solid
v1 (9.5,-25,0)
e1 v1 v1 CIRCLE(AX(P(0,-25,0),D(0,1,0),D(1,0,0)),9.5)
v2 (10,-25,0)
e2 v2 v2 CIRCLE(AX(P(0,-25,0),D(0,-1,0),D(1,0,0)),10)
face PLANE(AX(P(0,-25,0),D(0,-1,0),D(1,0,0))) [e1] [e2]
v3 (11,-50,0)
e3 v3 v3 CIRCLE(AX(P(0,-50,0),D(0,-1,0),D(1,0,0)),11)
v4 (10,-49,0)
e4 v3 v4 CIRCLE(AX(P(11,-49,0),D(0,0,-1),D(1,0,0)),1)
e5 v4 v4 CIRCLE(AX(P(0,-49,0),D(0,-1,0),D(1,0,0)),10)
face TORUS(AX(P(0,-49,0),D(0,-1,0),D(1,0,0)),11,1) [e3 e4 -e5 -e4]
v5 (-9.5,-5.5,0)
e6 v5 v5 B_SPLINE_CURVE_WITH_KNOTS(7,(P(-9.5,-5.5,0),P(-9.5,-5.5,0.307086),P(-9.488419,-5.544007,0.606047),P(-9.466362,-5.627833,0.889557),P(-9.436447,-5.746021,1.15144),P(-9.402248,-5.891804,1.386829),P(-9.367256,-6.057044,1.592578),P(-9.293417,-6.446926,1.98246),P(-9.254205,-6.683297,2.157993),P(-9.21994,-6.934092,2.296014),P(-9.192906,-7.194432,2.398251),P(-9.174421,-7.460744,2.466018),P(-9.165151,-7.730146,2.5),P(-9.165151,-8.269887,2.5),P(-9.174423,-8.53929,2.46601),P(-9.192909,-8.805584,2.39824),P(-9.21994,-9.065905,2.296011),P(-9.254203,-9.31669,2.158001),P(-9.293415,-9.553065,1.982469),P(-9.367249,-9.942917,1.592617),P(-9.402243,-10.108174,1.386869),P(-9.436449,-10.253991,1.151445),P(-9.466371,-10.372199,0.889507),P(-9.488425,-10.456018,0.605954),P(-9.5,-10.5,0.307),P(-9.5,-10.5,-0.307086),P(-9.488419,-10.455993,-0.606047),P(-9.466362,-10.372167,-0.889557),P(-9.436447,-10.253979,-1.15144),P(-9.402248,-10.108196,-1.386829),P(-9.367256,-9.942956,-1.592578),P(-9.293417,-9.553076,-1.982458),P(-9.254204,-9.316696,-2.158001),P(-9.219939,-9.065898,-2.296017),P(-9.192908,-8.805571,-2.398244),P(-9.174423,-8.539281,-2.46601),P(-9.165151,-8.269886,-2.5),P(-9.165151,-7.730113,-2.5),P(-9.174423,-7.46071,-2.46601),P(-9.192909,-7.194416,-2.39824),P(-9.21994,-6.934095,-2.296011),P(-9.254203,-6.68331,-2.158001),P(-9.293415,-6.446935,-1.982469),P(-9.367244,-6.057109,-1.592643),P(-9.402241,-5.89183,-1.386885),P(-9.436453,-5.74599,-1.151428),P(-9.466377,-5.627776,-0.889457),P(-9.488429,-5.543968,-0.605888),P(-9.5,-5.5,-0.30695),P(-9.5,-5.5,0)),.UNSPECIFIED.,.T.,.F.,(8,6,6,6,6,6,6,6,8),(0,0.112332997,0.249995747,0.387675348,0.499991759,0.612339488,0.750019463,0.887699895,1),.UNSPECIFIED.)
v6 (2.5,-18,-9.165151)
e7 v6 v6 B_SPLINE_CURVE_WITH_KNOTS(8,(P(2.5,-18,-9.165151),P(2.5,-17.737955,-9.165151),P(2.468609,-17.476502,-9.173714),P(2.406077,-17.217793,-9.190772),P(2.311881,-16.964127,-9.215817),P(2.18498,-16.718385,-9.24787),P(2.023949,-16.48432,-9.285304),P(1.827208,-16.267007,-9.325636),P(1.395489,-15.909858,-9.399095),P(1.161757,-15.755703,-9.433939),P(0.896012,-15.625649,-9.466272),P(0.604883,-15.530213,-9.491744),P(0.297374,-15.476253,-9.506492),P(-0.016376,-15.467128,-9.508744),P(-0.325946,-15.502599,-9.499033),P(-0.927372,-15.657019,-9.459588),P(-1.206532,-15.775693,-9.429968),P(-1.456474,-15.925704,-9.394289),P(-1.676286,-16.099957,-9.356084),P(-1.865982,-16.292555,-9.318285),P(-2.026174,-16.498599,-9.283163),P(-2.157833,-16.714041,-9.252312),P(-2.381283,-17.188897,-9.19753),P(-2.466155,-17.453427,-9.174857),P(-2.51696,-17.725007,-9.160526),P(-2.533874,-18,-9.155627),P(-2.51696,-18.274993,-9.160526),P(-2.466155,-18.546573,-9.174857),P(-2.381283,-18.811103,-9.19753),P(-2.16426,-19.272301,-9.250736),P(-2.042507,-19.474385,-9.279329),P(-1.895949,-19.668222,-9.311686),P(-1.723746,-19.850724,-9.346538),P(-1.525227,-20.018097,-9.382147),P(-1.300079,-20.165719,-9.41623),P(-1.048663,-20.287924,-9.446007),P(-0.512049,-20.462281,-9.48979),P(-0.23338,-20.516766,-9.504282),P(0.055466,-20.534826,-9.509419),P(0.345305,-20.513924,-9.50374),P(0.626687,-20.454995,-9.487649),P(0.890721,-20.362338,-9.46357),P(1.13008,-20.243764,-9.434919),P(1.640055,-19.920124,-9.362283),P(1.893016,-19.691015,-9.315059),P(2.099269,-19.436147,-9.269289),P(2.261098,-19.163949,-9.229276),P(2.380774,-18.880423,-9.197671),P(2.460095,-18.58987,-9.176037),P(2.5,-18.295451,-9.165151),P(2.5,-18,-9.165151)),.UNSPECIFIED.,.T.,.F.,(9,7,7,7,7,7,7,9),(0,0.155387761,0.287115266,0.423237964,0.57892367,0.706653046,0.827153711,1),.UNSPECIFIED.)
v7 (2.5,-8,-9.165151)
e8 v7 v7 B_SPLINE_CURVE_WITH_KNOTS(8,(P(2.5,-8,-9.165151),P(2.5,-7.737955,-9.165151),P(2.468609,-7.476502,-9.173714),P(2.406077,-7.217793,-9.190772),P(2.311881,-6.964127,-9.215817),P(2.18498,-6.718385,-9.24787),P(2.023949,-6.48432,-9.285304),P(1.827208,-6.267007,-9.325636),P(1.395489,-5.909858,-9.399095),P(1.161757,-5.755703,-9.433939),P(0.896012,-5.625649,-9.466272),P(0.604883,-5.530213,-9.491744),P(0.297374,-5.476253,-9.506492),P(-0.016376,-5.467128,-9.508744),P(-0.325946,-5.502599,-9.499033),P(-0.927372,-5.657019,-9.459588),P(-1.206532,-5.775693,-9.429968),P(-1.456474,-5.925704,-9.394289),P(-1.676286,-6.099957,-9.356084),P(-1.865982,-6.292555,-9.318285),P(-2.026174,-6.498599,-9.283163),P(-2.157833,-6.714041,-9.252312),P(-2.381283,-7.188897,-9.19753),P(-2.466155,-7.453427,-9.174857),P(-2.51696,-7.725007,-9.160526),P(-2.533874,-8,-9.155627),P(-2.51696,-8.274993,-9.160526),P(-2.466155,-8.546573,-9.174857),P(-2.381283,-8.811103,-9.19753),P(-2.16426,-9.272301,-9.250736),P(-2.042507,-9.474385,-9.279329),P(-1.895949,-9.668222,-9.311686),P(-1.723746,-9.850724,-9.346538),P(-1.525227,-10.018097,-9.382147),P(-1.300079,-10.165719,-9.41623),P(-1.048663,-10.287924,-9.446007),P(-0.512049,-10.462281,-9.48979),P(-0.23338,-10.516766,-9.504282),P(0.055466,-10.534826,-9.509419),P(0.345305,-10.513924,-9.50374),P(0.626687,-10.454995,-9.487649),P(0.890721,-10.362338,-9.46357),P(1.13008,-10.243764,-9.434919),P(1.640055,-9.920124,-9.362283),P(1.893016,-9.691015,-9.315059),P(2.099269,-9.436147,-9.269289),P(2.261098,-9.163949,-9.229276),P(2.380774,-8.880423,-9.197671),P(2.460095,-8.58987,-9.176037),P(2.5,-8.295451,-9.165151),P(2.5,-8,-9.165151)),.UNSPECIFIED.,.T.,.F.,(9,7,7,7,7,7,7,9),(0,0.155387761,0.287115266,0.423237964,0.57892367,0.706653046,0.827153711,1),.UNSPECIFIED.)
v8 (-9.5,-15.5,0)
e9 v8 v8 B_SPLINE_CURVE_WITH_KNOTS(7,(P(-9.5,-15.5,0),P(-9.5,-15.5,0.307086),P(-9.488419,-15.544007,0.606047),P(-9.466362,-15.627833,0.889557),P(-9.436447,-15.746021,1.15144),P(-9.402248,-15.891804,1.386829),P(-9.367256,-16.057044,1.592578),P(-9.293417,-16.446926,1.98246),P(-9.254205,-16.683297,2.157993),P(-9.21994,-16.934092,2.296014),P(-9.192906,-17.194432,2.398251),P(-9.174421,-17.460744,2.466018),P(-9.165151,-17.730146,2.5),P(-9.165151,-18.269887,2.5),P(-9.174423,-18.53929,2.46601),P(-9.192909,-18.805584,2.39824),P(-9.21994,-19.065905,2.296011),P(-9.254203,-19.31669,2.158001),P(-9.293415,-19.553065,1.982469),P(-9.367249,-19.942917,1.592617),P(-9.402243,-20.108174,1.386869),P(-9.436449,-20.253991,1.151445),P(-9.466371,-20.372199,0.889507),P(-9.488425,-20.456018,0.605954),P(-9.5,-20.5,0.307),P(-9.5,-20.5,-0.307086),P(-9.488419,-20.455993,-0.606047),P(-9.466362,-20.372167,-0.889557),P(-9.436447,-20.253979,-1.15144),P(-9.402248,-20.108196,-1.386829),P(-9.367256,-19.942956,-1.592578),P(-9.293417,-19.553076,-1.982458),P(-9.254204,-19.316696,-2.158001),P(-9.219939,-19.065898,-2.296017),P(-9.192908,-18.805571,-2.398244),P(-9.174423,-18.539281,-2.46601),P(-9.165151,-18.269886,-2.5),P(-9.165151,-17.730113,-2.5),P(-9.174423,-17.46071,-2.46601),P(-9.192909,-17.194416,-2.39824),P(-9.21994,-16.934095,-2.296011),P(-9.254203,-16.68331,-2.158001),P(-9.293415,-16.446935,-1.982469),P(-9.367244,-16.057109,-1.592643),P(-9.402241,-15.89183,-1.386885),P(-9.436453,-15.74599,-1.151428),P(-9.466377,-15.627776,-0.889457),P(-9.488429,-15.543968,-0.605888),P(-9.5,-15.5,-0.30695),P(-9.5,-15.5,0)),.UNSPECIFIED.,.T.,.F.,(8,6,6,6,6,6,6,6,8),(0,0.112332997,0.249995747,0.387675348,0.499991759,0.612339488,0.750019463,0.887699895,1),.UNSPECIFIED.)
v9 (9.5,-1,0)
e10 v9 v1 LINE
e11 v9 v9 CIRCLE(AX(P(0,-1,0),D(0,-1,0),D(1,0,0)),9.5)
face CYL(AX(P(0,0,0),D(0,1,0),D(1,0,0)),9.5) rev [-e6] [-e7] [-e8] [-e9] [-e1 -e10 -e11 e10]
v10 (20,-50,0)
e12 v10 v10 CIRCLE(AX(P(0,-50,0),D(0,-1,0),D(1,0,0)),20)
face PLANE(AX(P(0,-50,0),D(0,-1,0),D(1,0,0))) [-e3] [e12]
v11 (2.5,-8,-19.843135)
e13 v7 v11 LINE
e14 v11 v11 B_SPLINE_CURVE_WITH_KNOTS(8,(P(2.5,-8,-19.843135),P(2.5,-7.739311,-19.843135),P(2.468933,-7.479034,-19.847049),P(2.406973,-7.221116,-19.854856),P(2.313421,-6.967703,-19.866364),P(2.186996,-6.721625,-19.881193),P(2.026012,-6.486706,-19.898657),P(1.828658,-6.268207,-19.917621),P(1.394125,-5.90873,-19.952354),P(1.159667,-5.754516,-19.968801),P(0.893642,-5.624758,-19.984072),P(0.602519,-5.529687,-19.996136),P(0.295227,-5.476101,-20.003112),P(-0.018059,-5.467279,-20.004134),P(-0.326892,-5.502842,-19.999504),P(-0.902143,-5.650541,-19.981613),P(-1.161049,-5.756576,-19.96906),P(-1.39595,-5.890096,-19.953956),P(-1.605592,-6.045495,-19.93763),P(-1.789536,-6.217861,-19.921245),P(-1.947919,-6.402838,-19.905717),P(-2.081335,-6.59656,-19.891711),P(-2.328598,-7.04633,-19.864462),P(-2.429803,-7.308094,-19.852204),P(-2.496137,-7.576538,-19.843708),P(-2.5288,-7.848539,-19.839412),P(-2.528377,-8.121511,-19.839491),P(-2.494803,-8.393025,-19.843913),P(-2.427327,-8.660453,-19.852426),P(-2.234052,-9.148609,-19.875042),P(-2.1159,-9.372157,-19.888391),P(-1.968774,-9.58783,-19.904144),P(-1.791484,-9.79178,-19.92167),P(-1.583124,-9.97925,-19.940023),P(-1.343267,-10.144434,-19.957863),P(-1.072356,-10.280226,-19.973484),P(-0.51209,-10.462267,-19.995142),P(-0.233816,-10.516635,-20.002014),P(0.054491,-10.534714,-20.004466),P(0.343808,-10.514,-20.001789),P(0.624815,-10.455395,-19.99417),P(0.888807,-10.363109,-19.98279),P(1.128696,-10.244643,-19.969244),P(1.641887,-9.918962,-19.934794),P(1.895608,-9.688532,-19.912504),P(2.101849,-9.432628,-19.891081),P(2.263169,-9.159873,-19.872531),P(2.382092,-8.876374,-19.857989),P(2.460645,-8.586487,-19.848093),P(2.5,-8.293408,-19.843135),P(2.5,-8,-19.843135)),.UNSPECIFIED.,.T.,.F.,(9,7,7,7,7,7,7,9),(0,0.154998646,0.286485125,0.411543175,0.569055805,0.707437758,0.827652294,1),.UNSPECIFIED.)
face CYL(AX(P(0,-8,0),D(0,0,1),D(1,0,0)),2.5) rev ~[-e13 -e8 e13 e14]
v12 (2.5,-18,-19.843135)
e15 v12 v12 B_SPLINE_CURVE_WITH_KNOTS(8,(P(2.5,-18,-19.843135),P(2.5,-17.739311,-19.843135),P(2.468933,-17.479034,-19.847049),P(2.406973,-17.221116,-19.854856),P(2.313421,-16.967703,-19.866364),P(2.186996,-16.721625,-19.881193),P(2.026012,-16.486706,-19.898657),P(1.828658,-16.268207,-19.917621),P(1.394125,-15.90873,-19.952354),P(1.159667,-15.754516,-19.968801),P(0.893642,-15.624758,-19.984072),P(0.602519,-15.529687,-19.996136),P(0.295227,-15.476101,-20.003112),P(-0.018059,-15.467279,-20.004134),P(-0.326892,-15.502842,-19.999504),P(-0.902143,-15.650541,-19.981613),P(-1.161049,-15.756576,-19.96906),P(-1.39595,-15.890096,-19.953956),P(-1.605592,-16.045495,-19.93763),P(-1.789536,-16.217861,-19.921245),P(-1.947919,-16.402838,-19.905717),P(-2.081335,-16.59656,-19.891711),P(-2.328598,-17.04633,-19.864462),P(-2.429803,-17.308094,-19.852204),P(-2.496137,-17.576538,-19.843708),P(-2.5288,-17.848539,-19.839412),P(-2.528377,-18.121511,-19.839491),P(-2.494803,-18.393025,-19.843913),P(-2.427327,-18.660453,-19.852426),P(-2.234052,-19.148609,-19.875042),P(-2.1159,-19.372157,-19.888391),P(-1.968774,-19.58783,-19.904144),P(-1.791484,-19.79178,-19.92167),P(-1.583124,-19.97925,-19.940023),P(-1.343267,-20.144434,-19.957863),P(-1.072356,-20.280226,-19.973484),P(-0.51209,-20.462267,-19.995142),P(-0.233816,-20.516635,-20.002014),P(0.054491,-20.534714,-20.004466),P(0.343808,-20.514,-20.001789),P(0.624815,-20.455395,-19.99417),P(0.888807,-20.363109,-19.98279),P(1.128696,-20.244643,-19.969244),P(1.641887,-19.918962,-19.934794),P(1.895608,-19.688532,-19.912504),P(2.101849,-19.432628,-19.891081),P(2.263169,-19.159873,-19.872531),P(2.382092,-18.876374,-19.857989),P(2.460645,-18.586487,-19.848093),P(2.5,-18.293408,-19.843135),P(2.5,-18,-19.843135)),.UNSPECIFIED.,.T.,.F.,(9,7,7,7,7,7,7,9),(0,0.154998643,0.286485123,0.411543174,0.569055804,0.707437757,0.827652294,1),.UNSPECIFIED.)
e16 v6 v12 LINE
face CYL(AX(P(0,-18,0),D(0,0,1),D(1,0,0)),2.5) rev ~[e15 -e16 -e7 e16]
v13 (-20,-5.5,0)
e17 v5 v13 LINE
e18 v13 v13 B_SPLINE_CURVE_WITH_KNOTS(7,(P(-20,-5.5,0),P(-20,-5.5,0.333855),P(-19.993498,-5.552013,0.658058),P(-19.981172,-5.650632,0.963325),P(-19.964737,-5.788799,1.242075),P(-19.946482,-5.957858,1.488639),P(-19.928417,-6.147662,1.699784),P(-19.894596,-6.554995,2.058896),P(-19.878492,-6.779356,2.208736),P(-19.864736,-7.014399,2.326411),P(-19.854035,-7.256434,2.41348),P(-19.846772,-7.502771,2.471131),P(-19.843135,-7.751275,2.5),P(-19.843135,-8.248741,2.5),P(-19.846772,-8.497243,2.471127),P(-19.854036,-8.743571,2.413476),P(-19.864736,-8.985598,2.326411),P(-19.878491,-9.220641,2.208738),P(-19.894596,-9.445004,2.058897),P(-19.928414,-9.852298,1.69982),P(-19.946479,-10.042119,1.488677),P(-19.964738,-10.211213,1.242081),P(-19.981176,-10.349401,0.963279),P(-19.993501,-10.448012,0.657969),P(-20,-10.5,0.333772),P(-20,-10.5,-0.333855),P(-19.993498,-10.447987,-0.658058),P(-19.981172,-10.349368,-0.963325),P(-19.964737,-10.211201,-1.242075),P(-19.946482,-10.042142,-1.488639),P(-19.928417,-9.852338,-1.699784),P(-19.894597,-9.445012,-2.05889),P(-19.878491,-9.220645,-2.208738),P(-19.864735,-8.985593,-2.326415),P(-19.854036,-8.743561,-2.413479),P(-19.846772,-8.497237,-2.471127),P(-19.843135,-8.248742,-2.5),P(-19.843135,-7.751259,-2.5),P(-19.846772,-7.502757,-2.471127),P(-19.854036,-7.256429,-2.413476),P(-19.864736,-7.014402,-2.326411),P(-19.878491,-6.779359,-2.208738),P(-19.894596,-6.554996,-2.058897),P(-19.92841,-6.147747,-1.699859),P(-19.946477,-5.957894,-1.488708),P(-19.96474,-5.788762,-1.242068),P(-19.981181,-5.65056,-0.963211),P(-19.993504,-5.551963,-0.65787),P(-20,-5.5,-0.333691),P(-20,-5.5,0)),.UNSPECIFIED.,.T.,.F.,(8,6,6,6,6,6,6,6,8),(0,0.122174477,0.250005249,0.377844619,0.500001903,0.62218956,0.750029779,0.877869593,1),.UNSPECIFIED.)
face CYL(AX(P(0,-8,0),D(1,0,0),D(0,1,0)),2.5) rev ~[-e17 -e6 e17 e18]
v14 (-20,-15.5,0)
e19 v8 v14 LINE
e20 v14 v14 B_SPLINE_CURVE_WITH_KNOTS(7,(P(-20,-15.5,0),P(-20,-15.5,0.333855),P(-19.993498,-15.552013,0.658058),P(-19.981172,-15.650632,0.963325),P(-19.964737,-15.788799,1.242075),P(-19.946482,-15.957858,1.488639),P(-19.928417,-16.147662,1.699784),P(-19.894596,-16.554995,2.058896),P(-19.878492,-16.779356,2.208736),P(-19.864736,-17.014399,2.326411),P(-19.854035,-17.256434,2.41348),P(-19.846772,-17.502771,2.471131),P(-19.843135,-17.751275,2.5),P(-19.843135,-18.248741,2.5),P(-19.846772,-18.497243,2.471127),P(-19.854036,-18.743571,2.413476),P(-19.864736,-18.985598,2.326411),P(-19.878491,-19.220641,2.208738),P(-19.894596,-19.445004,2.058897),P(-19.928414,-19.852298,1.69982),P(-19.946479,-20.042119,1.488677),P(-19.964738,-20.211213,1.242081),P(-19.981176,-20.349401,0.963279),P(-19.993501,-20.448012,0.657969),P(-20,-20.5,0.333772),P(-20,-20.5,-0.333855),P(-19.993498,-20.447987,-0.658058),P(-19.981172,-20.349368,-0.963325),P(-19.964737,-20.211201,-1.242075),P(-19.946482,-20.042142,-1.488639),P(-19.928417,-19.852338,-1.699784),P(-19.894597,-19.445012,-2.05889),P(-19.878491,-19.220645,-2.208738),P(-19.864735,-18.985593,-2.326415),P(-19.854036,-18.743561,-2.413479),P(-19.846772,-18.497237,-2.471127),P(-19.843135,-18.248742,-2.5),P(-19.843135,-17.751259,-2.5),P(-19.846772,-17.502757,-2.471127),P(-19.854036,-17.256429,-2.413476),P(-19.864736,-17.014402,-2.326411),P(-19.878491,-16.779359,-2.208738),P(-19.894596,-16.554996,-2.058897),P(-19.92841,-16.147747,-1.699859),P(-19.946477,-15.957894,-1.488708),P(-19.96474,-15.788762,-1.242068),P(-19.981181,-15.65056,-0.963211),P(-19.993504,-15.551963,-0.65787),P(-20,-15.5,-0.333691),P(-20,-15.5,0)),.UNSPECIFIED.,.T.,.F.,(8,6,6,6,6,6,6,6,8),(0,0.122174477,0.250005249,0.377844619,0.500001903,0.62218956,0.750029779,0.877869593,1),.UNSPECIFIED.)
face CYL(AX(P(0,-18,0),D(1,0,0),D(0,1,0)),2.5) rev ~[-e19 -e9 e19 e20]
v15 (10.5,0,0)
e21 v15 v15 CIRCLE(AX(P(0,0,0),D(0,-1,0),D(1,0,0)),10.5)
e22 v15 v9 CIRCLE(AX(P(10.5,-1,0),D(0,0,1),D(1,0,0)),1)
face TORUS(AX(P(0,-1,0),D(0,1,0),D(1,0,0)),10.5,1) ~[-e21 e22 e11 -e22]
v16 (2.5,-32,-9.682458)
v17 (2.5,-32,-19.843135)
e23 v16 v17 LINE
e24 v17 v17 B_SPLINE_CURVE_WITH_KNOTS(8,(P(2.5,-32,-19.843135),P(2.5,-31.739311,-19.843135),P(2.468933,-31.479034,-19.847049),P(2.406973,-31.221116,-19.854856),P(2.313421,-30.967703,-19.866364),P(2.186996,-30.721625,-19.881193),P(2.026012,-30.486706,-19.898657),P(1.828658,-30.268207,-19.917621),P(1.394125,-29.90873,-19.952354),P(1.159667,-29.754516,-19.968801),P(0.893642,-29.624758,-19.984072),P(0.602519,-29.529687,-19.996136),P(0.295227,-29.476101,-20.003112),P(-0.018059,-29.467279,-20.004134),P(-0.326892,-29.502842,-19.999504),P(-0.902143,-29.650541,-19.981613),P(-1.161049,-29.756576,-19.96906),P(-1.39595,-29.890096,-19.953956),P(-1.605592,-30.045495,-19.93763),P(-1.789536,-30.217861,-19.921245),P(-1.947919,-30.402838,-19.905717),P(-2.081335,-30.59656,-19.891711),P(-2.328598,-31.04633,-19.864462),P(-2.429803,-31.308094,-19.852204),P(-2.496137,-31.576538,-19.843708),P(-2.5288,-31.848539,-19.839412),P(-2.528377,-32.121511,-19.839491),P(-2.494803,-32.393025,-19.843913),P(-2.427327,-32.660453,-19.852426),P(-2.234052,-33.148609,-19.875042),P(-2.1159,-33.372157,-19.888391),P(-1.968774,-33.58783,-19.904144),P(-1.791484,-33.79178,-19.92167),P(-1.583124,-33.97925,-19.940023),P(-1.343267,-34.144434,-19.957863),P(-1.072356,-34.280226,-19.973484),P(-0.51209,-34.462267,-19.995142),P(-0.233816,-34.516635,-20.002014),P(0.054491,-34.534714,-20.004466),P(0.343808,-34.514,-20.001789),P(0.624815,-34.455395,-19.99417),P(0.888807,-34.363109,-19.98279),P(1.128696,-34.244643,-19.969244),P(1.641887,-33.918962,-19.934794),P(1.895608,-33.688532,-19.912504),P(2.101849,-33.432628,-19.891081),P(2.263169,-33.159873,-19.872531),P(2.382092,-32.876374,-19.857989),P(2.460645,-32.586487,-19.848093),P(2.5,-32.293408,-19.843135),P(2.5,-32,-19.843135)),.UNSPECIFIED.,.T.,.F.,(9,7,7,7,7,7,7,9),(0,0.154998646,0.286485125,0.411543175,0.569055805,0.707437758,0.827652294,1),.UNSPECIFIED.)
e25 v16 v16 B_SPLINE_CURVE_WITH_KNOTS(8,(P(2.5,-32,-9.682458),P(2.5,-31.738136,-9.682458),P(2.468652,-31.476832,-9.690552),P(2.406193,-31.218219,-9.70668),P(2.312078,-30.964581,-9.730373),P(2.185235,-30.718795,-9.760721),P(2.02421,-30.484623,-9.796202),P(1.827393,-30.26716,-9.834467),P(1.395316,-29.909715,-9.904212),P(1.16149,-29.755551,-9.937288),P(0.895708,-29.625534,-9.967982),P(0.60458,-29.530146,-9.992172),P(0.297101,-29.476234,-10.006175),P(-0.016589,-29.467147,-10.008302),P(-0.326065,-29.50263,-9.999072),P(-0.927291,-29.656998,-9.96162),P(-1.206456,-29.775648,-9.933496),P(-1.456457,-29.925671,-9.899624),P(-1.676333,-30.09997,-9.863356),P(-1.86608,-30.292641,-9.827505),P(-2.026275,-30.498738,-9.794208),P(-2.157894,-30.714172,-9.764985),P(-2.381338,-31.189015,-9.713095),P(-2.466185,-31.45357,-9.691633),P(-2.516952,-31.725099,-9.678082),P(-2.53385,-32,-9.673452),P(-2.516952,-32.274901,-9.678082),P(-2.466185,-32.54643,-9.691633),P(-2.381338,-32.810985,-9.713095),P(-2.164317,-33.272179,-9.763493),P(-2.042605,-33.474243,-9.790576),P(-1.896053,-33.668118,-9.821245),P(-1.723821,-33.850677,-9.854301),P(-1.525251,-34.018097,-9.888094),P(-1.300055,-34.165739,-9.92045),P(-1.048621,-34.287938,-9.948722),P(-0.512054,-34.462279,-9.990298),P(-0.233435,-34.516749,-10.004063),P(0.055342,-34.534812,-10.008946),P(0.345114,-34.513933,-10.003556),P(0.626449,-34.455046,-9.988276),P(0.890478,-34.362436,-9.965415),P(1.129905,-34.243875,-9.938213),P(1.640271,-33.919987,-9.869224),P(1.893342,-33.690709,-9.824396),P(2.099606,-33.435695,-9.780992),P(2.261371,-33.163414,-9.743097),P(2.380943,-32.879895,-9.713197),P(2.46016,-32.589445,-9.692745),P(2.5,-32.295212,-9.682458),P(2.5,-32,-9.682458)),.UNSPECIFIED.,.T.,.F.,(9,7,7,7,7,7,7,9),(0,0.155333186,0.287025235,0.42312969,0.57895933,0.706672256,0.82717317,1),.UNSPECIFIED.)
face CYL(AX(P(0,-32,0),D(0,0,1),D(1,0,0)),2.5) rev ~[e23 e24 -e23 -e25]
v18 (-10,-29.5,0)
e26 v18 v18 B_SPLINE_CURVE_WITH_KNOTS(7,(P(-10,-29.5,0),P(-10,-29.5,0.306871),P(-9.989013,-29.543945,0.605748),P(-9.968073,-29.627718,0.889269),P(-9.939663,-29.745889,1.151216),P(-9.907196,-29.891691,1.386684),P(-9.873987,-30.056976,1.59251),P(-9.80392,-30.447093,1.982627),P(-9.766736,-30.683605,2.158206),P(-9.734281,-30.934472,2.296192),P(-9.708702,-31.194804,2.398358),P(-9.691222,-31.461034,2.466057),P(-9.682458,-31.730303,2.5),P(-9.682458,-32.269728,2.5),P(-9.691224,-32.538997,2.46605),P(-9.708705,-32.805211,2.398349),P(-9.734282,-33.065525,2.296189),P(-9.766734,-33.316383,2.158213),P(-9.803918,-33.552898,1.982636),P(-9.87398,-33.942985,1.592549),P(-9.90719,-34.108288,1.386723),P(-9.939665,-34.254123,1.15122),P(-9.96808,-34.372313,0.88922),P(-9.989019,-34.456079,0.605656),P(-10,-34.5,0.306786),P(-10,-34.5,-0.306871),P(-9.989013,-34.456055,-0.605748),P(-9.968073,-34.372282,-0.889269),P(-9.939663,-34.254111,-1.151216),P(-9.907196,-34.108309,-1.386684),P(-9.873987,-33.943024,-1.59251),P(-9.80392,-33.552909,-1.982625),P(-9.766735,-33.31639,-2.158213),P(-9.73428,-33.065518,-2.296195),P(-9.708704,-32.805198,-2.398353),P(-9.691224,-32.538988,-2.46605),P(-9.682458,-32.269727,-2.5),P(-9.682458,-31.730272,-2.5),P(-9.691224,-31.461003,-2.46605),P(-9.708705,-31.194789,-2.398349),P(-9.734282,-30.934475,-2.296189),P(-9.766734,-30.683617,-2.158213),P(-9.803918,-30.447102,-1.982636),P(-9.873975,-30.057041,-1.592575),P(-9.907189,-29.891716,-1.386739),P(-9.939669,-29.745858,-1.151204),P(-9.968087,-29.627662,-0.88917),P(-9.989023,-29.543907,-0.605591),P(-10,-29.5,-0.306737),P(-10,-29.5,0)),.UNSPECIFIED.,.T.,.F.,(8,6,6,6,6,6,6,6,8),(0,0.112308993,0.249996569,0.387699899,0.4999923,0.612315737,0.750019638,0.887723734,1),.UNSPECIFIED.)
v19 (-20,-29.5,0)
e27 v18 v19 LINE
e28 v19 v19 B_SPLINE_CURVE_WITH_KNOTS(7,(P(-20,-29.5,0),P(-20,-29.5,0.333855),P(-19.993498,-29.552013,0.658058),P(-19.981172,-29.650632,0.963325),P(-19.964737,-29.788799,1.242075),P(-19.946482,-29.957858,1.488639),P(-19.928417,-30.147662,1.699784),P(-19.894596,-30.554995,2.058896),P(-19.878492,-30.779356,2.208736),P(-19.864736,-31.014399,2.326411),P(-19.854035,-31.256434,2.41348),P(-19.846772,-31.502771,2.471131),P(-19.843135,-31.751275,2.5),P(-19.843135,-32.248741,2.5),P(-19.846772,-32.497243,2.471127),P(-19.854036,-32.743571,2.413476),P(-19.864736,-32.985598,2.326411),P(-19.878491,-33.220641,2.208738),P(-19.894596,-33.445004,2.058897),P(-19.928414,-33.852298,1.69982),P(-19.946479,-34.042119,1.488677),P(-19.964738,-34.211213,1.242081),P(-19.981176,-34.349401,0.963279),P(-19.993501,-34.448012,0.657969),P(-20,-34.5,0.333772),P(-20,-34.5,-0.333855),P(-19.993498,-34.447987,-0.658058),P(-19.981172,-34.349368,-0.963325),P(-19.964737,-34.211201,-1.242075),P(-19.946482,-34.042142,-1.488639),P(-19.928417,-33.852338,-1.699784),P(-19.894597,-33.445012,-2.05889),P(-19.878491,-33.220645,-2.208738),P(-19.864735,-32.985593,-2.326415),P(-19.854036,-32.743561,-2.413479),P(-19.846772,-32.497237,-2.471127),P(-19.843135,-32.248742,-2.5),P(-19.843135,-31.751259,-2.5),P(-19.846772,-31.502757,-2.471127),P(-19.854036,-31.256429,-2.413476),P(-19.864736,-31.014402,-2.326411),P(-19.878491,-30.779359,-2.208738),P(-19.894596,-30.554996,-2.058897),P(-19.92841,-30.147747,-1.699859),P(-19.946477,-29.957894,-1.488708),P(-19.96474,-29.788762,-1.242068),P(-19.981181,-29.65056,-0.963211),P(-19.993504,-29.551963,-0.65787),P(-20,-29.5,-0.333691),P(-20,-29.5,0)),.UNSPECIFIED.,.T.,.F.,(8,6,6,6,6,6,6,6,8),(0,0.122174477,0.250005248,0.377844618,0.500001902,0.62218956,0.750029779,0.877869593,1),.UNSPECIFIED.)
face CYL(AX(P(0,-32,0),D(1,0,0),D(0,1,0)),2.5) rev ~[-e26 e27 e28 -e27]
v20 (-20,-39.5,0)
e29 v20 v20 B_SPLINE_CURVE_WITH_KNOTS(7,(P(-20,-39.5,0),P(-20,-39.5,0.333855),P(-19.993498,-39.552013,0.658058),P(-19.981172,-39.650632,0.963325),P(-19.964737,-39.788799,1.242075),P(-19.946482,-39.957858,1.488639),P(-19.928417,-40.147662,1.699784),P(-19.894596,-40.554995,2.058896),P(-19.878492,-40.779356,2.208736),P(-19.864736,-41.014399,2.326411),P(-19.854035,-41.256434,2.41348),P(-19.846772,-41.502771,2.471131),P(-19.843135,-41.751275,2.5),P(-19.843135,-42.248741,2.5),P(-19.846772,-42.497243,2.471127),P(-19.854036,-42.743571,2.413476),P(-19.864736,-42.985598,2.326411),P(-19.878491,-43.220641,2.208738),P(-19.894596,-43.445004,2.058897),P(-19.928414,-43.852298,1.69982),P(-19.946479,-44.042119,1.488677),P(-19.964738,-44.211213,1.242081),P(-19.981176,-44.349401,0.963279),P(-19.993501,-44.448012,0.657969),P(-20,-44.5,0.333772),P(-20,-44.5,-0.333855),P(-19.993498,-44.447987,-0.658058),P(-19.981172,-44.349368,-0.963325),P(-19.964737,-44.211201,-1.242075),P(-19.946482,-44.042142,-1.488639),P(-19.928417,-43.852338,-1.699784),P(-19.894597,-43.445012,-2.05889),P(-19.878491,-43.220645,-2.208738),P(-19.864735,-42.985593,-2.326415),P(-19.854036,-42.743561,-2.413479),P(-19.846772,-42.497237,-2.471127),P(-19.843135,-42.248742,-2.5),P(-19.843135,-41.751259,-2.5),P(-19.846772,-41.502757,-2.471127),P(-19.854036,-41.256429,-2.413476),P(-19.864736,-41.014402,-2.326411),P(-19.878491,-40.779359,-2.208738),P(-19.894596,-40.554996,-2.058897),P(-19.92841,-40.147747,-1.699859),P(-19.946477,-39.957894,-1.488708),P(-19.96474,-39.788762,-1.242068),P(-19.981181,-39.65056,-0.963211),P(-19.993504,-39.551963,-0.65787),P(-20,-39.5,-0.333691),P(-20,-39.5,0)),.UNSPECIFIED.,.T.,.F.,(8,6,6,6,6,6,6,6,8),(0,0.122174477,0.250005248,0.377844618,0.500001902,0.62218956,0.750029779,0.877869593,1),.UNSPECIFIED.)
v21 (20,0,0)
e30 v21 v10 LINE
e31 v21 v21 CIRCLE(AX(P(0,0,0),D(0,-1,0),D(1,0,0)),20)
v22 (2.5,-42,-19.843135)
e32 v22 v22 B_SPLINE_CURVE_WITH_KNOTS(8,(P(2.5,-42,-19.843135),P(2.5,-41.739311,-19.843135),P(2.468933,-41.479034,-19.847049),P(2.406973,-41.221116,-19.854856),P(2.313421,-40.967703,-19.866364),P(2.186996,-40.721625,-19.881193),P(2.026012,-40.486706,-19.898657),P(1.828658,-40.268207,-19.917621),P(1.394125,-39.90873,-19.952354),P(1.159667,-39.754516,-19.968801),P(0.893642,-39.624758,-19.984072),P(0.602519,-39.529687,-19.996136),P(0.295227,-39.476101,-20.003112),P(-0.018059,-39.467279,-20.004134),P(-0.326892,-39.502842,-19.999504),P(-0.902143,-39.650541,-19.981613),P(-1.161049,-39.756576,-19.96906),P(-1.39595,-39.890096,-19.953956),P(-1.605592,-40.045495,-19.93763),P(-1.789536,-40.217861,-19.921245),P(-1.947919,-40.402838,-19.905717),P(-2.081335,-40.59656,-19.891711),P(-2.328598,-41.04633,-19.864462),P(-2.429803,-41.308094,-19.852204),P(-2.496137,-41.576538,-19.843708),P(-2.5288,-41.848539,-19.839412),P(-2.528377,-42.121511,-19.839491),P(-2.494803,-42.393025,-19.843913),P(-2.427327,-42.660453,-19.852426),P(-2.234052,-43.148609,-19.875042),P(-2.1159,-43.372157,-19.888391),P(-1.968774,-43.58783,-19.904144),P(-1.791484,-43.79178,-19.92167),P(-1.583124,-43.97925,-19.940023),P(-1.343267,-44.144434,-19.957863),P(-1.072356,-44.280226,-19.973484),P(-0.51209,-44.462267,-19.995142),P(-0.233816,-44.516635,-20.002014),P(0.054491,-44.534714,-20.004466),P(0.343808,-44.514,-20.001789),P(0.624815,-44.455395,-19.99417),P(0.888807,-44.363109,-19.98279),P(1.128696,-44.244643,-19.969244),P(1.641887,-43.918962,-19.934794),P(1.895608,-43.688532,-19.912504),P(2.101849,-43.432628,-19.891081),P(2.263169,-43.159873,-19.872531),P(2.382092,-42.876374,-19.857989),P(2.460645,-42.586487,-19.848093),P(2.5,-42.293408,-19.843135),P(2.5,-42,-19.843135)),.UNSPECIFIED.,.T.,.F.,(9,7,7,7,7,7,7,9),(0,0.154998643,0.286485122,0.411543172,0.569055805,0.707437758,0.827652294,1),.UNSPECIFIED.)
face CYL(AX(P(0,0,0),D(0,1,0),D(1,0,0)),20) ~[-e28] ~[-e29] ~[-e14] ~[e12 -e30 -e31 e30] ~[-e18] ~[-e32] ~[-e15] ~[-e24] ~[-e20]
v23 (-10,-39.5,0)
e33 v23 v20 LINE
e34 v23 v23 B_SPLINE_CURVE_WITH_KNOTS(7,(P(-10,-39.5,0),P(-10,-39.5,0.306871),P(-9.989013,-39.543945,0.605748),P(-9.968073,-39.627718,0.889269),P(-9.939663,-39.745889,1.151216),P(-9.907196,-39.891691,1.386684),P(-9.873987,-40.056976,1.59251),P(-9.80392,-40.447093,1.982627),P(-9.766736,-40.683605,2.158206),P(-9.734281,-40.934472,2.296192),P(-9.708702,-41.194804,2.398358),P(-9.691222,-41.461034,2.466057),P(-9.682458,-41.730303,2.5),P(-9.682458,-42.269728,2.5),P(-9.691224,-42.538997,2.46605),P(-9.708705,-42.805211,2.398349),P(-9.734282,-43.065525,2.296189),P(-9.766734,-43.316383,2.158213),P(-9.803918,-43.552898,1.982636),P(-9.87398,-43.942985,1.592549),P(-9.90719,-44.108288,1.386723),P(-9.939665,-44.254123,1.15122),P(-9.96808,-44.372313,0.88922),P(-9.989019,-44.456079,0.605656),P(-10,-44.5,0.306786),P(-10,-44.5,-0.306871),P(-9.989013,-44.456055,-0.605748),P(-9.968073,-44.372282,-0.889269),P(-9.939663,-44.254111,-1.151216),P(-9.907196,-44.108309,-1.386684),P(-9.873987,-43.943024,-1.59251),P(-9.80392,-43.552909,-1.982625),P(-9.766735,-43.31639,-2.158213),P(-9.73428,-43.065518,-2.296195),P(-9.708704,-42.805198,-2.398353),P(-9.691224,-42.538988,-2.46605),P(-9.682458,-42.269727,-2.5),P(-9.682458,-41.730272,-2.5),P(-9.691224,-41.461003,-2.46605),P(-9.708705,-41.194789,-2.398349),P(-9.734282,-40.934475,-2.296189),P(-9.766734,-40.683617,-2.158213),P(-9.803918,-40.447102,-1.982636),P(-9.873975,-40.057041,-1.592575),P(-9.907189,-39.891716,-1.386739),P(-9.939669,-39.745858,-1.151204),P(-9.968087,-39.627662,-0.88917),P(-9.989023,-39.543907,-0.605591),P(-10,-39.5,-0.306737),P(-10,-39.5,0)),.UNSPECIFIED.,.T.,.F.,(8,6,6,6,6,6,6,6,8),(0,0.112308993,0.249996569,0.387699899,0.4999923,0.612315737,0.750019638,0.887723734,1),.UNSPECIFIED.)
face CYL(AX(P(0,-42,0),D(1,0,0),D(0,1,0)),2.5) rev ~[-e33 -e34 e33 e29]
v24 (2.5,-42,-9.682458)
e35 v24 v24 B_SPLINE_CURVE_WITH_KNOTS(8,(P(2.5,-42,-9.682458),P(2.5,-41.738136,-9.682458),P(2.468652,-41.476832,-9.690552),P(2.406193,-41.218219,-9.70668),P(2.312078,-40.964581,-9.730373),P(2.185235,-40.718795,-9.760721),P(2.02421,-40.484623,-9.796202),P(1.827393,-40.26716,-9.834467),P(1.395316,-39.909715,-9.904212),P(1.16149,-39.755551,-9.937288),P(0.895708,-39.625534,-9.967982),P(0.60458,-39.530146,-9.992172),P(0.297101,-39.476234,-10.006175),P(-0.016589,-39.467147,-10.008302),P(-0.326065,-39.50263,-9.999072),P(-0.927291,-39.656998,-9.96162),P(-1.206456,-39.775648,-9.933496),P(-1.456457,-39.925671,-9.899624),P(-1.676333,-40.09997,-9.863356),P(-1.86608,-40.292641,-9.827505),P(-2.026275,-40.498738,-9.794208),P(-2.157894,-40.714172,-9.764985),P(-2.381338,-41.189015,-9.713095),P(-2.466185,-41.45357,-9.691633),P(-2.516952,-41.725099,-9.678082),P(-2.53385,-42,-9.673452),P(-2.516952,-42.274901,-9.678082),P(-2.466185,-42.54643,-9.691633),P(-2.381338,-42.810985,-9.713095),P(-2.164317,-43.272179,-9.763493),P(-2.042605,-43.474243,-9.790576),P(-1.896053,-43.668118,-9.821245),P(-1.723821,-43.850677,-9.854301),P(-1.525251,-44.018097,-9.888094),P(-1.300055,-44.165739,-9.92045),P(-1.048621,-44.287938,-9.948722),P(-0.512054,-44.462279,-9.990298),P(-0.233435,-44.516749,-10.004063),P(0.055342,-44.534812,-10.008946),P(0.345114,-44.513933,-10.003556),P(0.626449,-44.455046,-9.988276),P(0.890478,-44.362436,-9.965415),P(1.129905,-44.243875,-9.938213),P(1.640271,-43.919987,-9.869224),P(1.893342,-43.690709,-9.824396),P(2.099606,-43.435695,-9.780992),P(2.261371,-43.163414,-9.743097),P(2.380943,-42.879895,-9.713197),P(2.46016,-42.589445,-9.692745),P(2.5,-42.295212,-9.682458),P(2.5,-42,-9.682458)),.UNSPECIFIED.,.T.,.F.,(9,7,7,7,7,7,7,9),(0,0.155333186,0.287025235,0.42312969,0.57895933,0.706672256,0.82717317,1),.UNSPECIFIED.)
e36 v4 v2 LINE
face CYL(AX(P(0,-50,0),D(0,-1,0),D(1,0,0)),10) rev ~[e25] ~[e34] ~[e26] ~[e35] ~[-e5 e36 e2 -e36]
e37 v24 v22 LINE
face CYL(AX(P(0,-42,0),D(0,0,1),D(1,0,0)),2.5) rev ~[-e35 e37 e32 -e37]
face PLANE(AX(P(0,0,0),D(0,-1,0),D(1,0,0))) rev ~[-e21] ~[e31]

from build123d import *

# Parameters (mm, degrees)
F0_R     = 20
F0_R_2   = 9.5
F1_DEPTH = 50
F2_R     = 10
F3_DEPTH = 25
F5_D     = 5
F5_DEPTH = 50
F5_TIP   = 1.5021515476
F7_D     = 5
F7_DEPTH = 50
F7_TIP   = 1.5021515476
F8_R     = 1


with BuildPart() as f1:
    # F0 (on Front) → F1 (new body)
    with BuildSketch(Plane.XZ):
        Circle(F0_R)
        Circle(F0_R_2, mode=Mode.SUBTRACT)
    extrude(amount=F1_DEPTH)

    # F2 (on face) → F3 (cut)
    with BuildSketch(Plane.XZ.offset(50)):
        Circle(F2_R)
    extrude(amount=-F3_DEPTH, mode=Mode.SUBTRACT)

    # F5 (one way)
    with BuildSketch(Plane.YZ):
        with Locations((-42, 0), (-32, 0), (-18, 0), (-8, 0)):
            Circle(F5_D / 2)
    extrude(amount=-F5_DEPTH, mode=Mode.SUBTRACT)
    with Locations(Plane.YZ):
        with Locations((-42, 0), (-32, 0), (-18, 0), (-8, 0)):
            with Locations((0, 0, -(F5_DEPTH + F5_TIP / 2))):  # 118° drill point
                Cone(0, F5_D / 2, F5_TIP, mode=Mode.SUBTRACT)

    # F7 (one way)
    with BuildSketch(Plane.XY):
        with Locations((0, -8), (0, -18), (0, -32), (0, -42)):
            Circle(F7_D / 2)
    extrude(amount=-F7_DEPTH, mode=Mode.SUBTRACT)
    with Locations(Plane.XY):
        with Locations((0, -8), (0, -18), (0, -32), (0, -42)):
            with Locations((0, 0, -(F7_DEPTH + F7_TIP / 2))):  # 118° drill point
                Cone(0, F7_D / 2, F7_TIP, mode=Mode.SUBTRACT)

    # F8
    f8_edges = [f1.edges().sort_by_distance(p)[0] for p in [
        (-9.5, 0, 0),
        (-10, -50, 0),
    ]]
    fillet(f8_edges, radius=F8_R)


solid = f1.part
